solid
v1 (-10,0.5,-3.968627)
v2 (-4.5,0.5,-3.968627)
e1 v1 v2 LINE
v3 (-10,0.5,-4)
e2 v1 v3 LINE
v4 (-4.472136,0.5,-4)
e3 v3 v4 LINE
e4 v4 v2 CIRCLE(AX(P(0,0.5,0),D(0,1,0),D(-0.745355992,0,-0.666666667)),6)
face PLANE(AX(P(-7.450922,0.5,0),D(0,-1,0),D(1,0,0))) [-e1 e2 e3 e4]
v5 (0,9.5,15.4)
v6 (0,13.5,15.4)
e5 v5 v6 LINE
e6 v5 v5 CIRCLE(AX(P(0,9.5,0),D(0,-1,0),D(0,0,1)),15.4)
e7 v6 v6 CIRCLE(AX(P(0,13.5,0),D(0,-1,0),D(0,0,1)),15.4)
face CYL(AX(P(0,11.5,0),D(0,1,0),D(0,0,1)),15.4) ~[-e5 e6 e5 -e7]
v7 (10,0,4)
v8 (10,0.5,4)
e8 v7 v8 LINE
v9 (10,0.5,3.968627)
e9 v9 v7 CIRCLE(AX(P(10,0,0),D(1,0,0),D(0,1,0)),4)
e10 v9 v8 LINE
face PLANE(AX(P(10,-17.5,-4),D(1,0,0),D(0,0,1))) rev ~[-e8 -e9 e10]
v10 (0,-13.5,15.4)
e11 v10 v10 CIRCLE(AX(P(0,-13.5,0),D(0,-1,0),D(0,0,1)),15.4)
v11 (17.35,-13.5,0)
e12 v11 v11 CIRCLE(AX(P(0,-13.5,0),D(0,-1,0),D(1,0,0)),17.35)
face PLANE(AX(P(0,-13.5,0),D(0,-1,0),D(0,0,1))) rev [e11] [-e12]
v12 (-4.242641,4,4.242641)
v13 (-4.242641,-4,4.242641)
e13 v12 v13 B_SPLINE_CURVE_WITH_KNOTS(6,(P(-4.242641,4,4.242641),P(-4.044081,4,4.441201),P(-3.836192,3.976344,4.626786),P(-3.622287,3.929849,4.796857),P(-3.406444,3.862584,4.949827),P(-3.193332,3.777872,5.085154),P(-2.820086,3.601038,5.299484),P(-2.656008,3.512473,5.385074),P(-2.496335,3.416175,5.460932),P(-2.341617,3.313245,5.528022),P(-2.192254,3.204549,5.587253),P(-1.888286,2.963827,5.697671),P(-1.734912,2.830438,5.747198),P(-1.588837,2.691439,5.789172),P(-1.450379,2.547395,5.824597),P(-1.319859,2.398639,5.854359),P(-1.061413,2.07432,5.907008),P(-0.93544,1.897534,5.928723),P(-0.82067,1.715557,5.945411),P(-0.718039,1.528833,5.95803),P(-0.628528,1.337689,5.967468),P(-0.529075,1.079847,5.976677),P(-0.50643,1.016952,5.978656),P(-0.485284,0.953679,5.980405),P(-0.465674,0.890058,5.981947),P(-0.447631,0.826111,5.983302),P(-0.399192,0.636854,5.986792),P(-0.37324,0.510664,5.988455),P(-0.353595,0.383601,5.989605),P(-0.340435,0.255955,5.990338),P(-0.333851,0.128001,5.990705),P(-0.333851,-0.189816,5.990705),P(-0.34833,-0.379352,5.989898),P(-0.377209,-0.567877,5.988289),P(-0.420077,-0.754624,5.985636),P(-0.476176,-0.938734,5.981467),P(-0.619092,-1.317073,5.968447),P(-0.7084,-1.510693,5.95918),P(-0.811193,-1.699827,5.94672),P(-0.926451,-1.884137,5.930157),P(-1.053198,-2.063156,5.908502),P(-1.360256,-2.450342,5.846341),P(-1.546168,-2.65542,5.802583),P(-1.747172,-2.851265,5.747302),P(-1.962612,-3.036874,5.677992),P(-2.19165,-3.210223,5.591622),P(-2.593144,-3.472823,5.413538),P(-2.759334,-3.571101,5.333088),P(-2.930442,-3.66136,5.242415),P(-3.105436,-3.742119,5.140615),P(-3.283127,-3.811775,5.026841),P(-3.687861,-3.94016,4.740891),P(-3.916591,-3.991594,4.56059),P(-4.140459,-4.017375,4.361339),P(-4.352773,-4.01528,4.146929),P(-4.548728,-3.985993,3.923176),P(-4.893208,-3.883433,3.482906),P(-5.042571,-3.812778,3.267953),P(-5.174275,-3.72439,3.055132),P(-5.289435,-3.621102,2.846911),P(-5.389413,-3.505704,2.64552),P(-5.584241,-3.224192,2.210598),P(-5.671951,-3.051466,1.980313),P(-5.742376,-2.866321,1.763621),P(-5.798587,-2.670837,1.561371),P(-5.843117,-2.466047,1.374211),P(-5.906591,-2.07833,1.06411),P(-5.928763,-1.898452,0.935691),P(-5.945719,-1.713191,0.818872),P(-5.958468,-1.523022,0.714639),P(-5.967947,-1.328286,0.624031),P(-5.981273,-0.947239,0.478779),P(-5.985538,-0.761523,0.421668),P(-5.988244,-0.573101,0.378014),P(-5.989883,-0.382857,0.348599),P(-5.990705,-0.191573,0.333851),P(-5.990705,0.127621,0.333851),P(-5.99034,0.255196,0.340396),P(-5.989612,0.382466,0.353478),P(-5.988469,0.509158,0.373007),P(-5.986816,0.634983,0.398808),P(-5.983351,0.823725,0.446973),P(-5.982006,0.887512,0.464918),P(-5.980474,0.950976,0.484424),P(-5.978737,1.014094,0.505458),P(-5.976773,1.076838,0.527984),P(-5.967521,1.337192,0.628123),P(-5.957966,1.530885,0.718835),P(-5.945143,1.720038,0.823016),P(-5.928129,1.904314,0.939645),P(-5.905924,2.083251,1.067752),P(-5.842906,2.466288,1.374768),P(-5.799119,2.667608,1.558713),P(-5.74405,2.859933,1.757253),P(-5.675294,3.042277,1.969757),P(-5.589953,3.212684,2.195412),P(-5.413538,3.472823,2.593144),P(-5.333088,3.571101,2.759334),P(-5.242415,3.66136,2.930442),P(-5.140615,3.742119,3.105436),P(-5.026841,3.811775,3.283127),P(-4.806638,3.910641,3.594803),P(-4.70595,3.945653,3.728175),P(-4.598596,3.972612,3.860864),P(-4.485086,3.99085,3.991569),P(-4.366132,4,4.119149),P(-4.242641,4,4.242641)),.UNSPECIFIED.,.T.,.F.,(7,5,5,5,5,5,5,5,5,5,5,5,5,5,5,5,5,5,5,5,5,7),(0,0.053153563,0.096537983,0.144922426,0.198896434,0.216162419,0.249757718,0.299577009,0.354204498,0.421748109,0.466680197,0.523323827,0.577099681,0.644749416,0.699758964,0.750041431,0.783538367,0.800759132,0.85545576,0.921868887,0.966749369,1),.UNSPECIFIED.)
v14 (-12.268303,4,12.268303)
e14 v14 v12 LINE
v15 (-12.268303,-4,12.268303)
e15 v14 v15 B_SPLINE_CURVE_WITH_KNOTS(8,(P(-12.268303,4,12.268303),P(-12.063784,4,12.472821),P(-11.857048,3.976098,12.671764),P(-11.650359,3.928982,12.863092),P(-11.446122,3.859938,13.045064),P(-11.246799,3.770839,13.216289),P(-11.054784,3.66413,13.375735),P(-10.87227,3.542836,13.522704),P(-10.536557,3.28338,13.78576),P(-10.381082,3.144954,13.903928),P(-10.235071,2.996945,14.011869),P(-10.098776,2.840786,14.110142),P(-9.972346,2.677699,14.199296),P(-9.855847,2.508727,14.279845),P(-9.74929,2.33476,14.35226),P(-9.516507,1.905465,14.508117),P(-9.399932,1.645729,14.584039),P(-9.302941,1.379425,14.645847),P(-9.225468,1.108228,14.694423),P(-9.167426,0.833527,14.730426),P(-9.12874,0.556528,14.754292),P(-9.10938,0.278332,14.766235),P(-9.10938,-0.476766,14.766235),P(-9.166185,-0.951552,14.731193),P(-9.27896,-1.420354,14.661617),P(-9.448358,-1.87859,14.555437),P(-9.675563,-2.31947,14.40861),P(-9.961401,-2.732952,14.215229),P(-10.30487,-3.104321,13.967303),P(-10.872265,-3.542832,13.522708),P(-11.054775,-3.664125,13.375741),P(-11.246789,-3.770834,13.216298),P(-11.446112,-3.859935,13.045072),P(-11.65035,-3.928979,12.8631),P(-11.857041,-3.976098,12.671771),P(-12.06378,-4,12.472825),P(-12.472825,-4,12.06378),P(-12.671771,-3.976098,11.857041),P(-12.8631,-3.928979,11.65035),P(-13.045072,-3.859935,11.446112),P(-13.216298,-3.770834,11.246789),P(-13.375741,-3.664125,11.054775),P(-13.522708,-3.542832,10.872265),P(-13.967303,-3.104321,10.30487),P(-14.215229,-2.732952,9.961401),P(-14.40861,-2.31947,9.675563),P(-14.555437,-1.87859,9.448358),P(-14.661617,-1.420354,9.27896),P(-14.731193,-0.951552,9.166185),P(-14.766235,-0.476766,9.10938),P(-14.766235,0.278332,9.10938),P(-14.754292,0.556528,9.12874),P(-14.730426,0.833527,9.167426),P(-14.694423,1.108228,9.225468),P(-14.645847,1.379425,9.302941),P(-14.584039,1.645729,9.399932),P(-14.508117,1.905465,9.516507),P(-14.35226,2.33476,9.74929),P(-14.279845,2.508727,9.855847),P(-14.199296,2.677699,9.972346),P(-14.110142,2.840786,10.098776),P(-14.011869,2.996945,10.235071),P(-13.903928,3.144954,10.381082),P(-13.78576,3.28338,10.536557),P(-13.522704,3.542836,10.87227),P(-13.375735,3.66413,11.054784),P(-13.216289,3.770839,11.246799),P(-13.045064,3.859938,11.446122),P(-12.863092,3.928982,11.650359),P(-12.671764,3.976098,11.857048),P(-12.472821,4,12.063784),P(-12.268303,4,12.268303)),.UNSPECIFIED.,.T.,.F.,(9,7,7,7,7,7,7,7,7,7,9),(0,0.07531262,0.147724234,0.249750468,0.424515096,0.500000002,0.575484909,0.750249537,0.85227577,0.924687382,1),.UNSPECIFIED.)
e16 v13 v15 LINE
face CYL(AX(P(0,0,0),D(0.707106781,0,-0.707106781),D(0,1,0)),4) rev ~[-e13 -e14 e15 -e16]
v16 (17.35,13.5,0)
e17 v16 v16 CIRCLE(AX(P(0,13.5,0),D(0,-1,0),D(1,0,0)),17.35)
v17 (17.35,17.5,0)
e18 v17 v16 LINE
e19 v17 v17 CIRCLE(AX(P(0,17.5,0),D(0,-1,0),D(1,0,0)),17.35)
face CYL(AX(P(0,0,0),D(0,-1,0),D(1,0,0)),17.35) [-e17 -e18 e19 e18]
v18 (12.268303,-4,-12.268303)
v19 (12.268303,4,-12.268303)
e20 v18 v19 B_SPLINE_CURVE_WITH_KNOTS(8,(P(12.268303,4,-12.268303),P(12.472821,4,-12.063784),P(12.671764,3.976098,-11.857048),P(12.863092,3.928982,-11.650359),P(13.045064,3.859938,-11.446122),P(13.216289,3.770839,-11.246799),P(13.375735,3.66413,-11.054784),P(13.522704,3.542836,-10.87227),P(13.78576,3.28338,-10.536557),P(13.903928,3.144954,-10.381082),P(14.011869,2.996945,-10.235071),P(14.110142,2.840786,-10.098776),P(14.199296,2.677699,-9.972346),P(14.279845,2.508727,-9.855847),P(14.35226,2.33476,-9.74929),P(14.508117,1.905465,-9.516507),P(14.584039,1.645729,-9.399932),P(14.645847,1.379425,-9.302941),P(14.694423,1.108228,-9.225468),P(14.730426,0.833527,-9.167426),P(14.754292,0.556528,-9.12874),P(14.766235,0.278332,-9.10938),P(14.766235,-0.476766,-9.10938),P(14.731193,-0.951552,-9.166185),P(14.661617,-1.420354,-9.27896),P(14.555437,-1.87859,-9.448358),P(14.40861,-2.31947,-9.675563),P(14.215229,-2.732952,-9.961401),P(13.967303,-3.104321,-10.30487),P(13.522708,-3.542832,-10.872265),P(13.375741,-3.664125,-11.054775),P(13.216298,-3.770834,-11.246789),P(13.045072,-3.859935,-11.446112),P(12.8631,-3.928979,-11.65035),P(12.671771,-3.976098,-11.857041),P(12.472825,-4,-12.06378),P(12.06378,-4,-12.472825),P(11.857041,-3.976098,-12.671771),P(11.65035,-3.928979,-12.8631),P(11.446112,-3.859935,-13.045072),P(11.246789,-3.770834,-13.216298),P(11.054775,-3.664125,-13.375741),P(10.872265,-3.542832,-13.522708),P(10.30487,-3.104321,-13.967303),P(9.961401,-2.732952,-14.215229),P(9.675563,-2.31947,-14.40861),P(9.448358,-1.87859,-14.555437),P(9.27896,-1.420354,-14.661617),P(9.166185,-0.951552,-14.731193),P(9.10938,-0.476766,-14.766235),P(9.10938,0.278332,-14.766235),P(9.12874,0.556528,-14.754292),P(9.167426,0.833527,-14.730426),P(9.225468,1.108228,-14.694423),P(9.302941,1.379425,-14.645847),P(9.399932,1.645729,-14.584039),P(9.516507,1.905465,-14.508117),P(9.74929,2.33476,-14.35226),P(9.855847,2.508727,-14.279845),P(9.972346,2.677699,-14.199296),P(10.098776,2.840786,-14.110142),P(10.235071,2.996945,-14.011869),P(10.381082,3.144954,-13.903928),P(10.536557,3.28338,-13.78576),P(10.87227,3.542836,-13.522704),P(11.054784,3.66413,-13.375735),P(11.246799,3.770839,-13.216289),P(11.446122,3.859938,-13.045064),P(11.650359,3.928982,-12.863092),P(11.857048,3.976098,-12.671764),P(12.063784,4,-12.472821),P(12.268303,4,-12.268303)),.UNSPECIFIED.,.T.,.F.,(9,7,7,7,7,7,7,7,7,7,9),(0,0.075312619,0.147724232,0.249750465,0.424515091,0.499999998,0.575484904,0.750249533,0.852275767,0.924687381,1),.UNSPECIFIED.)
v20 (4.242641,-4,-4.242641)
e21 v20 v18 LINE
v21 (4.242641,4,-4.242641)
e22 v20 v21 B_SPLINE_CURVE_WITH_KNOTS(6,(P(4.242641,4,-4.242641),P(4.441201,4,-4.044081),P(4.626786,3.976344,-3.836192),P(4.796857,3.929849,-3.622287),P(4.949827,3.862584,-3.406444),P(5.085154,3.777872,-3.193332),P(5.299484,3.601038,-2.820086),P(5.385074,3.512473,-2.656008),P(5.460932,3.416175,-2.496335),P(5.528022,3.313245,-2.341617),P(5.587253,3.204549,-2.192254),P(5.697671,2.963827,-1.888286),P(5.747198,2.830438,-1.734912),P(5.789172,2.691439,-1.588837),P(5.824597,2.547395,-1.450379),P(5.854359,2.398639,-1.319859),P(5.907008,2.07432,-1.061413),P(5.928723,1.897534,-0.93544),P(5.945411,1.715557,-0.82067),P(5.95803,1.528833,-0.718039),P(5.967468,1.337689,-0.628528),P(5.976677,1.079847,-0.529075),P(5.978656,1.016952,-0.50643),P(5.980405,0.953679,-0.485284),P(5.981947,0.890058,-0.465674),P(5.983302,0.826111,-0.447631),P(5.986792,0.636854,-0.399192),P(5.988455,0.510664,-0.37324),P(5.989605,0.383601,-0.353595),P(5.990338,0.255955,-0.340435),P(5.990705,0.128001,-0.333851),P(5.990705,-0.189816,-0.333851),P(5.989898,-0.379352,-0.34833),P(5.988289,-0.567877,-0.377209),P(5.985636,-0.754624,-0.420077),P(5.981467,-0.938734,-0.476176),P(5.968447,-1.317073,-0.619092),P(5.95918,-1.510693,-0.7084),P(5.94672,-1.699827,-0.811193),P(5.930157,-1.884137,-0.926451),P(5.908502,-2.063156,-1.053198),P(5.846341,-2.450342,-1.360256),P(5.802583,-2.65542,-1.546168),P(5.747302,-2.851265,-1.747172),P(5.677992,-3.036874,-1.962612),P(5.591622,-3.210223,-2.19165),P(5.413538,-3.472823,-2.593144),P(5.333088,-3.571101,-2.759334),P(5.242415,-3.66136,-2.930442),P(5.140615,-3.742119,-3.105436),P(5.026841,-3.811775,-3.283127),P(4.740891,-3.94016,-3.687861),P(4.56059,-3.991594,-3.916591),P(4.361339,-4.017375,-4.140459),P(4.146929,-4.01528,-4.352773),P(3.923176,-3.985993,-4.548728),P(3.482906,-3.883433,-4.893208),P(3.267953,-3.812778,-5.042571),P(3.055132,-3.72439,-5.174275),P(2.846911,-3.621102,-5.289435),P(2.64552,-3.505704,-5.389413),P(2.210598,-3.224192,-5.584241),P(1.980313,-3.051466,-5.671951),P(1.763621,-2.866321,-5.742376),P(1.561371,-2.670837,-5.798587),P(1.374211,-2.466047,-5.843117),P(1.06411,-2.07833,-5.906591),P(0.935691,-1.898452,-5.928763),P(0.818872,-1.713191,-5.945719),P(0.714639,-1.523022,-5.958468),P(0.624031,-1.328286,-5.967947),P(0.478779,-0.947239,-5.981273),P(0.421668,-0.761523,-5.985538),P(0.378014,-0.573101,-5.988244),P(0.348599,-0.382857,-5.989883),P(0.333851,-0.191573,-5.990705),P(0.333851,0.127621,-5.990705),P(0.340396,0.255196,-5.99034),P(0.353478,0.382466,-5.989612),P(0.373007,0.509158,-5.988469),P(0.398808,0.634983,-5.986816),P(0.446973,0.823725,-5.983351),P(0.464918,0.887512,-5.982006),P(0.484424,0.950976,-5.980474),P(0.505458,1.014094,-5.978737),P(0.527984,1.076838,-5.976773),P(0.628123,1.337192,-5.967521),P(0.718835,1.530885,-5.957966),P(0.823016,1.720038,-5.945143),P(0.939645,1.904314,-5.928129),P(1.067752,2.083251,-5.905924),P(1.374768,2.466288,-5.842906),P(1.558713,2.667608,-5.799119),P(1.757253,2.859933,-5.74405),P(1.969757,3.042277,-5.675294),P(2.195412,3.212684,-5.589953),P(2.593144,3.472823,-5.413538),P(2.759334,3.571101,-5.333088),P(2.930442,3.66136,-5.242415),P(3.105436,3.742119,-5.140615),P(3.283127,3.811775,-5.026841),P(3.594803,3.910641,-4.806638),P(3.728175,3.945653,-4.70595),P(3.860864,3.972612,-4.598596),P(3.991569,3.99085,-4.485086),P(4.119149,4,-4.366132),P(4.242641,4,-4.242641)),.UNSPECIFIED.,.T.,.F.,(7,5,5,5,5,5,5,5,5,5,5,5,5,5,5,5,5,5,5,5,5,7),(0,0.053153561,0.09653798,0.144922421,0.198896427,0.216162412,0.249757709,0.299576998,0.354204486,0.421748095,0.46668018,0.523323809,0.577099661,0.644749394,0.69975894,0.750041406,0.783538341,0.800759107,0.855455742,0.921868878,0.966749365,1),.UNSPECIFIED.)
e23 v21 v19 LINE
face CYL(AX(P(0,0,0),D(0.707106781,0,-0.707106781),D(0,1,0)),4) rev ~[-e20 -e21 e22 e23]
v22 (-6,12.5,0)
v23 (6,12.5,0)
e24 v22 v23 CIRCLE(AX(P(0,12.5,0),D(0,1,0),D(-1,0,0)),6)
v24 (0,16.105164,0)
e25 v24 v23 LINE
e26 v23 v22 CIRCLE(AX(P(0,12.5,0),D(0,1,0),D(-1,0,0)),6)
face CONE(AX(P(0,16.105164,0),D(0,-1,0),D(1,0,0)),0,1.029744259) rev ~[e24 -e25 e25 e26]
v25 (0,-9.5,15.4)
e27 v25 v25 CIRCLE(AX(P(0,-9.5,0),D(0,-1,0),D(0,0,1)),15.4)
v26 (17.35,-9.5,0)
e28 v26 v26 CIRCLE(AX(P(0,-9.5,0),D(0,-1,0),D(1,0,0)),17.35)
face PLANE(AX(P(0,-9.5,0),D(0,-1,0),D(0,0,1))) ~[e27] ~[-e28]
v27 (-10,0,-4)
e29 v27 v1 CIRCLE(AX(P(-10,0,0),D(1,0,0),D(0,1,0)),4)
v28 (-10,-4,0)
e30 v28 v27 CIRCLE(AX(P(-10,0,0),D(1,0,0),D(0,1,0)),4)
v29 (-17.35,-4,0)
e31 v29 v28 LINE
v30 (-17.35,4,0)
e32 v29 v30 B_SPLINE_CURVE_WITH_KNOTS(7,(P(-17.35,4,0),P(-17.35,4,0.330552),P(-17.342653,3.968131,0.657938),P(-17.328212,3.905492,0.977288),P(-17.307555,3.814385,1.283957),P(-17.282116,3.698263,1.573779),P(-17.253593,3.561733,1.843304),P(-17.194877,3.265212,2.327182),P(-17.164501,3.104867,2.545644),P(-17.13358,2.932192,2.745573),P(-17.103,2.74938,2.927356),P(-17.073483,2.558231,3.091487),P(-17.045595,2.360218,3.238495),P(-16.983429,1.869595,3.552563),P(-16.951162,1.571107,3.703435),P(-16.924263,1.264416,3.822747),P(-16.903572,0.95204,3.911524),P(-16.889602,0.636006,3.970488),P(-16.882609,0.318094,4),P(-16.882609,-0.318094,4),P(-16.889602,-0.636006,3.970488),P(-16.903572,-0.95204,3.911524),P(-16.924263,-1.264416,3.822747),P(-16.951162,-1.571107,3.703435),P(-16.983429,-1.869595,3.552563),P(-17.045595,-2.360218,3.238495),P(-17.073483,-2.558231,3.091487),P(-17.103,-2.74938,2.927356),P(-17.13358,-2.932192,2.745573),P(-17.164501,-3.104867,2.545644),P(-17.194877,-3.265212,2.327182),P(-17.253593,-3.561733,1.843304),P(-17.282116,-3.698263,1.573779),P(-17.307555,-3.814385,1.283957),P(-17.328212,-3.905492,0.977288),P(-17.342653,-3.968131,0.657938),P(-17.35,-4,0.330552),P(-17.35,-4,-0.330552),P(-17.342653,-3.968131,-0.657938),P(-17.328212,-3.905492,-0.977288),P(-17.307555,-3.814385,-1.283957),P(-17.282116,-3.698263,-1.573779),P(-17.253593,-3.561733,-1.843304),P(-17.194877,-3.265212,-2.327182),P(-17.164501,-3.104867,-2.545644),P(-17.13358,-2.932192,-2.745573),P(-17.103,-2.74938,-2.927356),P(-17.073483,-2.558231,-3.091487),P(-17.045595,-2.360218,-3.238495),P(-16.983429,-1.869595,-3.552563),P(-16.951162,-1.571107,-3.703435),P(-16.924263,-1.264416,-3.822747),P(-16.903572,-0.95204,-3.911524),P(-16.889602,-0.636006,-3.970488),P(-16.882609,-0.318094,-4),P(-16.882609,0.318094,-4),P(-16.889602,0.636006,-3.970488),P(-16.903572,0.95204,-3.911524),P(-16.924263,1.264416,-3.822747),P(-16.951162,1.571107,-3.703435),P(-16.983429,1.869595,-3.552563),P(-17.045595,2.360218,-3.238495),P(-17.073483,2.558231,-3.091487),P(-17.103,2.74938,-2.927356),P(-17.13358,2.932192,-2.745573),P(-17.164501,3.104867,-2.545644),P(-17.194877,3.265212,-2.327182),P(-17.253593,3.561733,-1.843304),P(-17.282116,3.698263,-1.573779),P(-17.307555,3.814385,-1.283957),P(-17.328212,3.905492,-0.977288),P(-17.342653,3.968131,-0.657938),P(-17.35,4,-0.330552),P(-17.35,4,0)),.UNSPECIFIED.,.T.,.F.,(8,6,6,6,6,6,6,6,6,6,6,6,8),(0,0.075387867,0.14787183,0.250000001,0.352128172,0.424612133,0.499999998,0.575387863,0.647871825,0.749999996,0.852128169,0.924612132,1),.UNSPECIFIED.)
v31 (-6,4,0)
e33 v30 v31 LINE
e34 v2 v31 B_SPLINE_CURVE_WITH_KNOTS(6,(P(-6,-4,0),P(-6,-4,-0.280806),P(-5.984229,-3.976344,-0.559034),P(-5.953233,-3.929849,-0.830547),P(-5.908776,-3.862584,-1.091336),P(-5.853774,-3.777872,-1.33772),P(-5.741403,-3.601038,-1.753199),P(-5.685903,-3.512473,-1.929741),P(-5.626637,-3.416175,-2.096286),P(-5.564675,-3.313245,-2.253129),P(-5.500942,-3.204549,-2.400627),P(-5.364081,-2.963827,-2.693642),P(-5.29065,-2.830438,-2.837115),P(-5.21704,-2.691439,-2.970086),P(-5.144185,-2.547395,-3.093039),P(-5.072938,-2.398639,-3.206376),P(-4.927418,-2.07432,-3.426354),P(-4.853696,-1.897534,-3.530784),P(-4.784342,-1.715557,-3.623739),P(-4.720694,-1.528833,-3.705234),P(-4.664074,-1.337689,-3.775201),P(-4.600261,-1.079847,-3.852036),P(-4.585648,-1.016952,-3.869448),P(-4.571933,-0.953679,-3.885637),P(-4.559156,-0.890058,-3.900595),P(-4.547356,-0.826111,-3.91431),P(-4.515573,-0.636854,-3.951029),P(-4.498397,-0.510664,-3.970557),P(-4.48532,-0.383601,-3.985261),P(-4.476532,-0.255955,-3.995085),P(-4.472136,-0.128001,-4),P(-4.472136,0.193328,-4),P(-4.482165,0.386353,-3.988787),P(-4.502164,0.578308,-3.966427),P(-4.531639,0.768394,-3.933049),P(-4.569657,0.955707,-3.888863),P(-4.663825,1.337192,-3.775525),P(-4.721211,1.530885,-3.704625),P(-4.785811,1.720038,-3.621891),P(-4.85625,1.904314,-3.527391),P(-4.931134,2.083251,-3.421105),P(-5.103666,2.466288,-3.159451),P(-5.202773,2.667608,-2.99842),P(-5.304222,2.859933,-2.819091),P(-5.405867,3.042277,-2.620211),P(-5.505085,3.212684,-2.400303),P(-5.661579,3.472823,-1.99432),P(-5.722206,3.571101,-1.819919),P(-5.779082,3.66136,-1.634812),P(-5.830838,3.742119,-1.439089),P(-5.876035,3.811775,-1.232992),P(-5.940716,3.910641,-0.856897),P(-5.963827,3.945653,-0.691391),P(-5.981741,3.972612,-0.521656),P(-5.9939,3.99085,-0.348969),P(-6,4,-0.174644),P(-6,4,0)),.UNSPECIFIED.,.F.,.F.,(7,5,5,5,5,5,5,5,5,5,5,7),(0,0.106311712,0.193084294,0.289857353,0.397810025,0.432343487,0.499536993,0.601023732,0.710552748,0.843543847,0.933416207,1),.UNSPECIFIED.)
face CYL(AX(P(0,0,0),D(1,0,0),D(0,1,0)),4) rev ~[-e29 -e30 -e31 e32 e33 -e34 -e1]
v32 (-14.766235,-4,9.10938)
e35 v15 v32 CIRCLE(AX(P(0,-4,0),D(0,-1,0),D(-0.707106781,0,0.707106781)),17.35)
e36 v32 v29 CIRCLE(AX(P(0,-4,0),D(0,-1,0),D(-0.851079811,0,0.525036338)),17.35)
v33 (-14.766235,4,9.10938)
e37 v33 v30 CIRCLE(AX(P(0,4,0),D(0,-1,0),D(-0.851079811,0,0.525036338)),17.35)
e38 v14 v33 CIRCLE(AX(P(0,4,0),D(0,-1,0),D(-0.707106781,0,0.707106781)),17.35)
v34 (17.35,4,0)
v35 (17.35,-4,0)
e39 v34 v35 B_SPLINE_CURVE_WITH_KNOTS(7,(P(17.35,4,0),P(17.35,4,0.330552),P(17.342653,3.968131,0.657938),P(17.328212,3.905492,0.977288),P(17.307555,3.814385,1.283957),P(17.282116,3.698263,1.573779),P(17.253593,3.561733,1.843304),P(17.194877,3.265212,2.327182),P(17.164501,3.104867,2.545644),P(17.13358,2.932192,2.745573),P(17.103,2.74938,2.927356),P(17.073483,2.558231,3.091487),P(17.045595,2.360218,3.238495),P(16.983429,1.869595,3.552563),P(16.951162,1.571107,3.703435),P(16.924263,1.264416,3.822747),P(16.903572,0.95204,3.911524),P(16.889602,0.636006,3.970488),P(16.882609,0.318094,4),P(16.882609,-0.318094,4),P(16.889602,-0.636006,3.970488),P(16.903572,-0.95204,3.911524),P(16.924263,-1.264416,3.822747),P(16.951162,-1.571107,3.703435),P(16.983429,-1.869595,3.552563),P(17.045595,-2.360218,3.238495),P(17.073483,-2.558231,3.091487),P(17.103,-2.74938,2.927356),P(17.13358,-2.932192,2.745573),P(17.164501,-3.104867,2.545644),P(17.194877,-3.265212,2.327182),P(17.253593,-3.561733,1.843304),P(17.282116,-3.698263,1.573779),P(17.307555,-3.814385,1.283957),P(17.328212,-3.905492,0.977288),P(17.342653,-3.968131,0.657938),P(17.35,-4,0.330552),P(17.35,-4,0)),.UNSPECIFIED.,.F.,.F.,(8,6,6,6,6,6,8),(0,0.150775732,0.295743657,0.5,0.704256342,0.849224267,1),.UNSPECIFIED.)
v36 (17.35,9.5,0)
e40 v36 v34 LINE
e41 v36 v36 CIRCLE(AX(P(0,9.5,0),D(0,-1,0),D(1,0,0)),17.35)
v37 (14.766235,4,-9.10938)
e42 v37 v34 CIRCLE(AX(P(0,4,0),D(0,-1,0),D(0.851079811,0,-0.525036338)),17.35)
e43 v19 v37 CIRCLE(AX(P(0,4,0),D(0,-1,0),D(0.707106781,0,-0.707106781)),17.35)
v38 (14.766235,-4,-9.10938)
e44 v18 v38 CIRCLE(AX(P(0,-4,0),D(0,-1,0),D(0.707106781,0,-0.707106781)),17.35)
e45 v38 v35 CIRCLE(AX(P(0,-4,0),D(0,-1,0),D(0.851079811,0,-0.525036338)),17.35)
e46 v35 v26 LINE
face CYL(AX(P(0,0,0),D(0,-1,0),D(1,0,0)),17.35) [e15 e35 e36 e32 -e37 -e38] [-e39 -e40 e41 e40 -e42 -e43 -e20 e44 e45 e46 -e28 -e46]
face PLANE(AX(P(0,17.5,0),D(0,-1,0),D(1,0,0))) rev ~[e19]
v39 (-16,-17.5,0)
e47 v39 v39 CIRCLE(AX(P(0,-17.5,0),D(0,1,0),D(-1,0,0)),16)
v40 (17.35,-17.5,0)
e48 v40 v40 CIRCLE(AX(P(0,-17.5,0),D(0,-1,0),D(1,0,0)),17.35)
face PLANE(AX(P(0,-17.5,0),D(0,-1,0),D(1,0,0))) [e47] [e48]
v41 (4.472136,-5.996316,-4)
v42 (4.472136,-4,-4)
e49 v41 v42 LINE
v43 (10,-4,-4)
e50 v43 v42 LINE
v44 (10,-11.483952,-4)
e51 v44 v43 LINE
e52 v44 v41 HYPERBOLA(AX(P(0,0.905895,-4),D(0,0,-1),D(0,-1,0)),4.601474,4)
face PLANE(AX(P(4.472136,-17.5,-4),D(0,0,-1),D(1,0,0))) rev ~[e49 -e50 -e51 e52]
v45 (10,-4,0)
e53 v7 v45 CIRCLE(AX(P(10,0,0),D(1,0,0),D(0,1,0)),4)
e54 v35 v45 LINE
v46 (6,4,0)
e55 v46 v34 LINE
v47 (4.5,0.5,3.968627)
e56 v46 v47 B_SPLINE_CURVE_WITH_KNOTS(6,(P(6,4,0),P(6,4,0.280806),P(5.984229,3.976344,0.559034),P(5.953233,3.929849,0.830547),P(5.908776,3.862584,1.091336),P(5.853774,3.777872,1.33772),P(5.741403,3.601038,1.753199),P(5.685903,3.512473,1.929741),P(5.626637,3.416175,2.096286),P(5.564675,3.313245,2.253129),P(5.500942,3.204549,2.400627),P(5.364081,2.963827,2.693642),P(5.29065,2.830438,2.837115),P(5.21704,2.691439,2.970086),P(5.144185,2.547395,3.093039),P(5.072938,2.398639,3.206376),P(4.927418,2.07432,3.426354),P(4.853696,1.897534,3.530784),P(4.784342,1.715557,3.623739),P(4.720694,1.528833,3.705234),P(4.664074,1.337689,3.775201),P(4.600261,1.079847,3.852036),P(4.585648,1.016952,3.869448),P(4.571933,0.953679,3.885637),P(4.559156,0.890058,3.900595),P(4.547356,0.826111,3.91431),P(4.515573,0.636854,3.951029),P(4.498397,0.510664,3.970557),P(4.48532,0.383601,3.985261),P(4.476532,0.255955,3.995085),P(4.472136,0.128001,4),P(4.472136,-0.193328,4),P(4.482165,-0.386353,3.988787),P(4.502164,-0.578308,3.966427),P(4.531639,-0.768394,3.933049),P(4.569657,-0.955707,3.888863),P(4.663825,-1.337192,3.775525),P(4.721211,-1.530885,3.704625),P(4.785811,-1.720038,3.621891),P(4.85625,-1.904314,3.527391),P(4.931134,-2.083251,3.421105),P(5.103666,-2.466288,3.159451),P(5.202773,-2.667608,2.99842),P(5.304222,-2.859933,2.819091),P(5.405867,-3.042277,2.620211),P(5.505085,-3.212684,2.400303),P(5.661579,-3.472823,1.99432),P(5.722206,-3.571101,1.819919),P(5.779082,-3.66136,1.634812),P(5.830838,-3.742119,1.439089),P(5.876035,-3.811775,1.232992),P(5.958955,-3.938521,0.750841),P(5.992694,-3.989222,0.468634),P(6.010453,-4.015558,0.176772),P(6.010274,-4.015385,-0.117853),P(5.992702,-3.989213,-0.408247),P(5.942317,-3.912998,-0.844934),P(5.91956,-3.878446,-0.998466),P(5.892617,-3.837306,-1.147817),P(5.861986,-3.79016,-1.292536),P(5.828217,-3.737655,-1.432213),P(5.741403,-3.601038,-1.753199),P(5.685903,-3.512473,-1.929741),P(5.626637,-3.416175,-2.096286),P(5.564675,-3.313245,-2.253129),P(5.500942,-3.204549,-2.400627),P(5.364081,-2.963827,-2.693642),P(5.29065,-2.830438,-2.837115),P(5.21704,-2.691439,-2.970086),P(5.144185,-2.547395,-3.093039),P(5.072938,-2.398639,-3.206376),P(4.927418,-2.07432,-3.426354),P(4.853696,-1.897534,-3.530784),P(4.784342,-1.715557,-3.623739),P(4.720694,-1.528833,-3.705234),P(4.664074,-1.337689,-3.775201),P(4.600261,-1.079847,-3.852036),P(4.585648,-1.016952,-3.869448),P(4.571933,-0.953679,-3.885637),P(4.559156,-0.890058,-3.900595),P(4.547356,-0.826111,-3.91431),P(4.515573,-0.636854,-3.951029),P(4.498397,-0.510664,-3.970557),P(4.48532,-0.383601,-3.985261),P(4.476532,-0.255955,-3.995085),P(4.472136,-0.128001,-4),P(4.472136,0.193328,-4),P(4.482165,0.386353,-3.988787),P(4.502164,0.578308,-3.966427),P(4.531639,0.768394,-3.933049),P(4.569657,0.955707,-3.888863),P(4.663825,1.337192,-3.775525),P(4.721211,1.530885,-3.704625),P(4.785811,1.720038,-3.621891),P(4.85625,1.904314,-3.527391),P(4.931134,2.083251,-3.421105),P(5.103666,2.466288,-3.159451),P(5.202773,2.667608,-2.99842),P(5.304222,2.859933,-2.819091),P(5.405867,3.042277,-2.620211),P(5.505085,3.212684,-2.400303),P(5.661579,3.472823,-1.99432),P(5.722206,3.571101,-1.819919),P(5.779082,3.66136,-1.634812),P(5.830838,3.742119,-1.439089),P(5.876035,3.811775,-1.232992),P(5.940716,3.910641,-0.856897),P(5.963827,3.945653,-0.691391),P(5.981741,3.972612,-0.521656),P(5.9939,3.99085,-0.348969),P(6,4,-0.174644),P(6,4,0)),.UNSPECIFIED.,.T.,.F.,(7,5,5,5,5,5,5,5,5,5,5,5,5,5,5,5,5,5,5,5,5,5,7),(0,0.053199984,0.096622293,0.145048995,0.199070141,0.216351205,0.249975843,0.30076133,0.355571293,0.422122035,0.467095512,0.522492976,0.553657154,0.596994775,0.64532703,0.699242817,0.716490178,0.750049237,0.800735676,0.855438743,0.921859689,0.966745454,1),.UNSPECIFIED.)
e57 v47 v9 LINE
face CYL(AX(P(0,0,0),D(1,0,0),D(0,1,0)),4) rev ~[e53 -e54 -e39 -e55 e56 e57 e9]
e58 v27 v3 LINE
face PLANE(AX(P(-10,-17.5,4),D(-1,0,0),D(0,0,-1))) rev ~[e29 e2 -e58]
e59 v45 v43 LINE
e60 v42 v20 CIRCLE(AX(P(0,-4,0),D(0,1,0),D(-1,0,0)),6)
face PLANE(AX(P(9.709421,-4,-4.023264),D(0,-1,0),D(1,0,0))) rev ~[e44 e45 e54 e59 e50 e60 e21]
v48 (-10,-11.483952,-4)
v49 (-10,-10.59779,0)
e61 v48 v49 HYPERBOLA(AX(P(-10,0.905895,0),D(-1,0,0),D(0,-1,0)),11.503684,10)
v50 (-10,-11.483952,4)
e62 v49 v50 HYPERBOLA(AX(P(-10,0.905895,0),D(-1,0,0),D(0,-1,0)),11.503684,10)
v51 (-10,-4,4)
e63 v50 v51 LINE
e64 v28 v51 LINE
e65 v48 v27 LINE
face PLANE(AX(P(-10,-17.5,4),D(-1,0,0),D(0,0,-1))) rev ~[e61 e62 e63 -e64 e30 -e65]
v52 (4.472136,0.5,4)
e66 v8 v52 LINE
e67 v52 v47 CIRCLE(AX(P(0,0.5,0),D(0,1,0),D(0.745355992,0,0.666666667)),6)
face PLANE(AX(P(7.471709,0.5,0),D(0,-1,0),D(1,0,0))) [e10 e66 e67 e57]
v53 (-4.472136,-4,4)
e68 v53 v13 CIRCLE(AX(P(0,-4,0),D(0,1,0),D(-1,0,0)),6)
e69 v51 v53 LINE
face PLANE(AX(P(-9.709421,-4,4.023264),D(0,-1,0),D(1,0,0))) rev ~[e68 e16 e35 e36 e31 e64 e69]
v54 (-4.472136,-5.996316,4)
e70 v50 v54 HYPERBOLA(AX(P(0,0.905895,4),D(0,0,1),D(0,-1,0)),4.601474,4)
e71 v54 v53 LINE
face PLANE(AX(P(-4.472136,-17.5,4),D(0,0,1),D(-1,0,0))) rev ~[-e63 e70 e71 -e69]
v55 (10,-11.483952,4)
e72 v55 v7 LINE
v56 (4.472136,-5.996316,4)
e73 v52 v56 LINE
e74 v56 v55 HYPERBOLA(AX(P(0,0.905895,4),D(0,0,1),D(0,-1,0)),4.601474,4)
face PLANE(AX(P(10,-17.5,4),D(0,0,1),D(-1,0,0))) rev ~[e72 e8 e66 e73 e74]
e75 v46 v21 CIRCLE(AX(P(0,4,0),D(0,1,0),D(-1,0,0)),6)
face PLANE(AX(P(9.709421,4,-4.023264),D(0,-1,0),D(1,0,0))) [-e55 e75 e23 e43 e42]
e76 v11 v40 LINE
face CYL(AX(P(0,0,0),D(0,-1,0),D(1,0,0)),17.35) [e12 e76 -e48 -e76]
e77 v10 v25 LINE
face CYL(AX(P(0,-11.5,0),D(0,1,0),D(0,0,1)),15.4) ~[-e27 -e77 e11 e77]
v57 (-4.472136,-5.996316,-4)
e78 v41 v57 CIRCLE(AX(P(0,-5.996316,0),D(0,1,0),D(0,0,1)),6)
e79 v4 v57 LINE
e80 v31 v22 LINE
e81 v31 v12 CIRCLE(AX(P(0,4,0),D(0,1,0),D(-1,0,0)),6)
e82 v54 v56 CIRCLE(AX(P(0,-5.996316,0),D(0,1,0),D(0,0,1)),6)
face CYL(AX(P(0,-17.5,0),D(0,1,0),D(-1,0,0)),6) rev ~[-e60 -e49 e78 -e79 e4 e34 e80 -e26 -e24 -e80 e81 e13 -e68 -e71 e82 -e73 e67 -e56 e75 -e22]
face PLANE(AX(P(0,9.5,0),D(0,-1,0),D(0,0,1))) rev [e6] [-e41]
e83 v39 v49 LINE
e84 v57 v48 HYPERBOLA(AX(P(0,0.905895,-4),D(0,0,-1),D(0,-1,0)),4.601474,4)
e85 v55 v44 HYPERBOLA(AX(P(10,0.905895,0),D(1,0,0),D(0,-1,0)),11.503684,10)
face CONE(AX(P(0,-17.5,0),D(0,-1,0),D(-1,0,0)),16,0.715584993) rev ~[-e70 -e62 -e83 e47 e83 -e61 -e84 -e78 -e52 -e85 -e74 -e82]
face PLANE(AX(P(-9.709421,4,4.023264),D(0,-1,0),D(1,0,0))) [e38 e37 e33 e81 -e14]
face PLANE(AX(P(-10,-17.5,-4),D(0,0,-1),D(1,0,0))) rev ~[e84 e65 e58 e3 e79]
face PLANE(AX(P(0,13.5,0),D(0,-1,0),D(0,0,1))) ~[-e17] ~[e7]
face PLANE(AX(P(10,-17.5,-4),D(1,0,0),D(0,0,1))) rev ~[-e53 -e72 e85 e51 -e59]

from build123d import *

# Parameters (mm, degrees)
F0_R           = 17.35
F0_R_2         = 16.35
F1_DEPTH       = 17.5
F2_W           = 4
F2_H           = 5
F5_D           = 12
F5_DEPTH       = 30
F5_CSINK_D     = 32
F5_CSINK_ANGLE = 82
F5_TIP         = 3.6051637142
F6_DEPTH       = 18
F7_R           = 4
F8_DEPTH       = 17.5
F10_R          = 4
F11_DEPTH      = 17.5
F13_DEPTH      = 4


with BuildPart() as f1:
    # F0 (on Front) → F1 (new body, symmetric)
    with BuildSketch(Plane.XZ):
        Circle(F0_R)
        Circle(F0_R_2, mode=Mode.SUBTRACT)
        Circle(F0_R_2)
    extrude(amount=F1_DEPTH, both=True)

    # F2 (on Right) → F3 (revolve, cut)
    with BuildSketch(Plane.YZ):
        with Locations((-11.5, 17.9)):
            Rectangle(F2_W, F2_H)
        with Locations((11.5, 17.9)):
            Rectangle(F2_W, F2_H)
    revolve(axis=Axis((0, 0, 0), (0, -1, 0)), mode=Mode.SUBTRACT)

    # F5
    with Locations(Plane.XZ.offset(17.5)):
        with Locations((0, 0)):
            CounterSinkHole(F5_D / 2, F5_CSINK_D / 2, depth=F5_DEPTH, counter_sink_angle=F5_CSINK_ANGLE)
            with Locations((0, 0, -(F5_DEPTH + F5_TIP / 2))):  # 118° drill point
                Cone(0, F5_D / 2, F5_TIP, mode=Mode.SUBTRACT)

    # F4 (on face) → F6 (cut)
    with BuildSketch(Plane.XZ.offset(17.5)):
        with BuildLine():
            ThreePointArc((-4.472135955, -4), (-6, 0), (-4.472135955, 4))
            Line((-4.472135955, 4), (-10, 4))
            Line((-10, 4), (-10, -4))
            Line((-10, -4), (-4.472135955, -4))
        make_face()
        with BuildLine():
            ThreePointArc((4.472135955, 4), (5.6050341538, 2.1409325386), (6, 0))
            ThreePointArc((6, 0), (5.6050341538, -2.1409325386), (4.472135955, -4))
            Line((4.472135955, -4), (10, -4))
            Line((10, -4), (10, 4))
            Line((10, 4), (4.472135955, 4))
        make_face()
    extrude(amount=-F6_DEPTH, mode=Mode.SUBTRACT)

    # F7 (on Right) → F8 (cut, symmetric)
    with BuildSketch(Plane.YZ):
        Circle(F7_R)
    extrude(amount=F8_DEPTH, both=True, mode=Mode.SUBTRACT)

    # F10 (on face) → F11 (cut, symmetric)
    with BuildSketch(Plane(origin=(0, 0, 0), x_dir=(0, 1, 0), z_dir=(0.7071067812, 0, -0.7071067812))):
        Circle(F10_R)
    extrude(amount=F11_DEPTH, both=True, mode=Mode.SUBTRACT)

    # F12 (on Front) → F13 (cut, symmetric)
    with BuildSketch(Plane.XZ):
        with BuildLine():
            Line((-17.35, 0), (0, 0))
            Line((0, 0), (-12.2683026536, 12.2683026536))
            ThreePointArc((-12.2683026536, 12.2683026536), (-13.6092339975, 10.7615635481), (-14.7662347124, 9.1093804629))
            ThreePointArc((-14.7662347124, 9.1093804629), (-16.6915648197, 4.7343599219), (-17.35, 0))
        make_face()
        with BuildLine():
            ThreePointArc((14.7662347124, -9.1093804629), (16.6915648197, -4.7343599219), (17.35, 0))
            Line((17.35, 0), (0, 0))
            Line((0, 0), (12.2683026536, -12.2683026536))
            ThreePointArc((12.2683026536, -12.2683026536), (13.6092339975, -10.7615635481), (14.7662347124, -9.1093804629))
        make_face()
    extrude(amount=F13_DEPTH, both=True, mode=Mode.SUBTRACT)


solid = f1.part
